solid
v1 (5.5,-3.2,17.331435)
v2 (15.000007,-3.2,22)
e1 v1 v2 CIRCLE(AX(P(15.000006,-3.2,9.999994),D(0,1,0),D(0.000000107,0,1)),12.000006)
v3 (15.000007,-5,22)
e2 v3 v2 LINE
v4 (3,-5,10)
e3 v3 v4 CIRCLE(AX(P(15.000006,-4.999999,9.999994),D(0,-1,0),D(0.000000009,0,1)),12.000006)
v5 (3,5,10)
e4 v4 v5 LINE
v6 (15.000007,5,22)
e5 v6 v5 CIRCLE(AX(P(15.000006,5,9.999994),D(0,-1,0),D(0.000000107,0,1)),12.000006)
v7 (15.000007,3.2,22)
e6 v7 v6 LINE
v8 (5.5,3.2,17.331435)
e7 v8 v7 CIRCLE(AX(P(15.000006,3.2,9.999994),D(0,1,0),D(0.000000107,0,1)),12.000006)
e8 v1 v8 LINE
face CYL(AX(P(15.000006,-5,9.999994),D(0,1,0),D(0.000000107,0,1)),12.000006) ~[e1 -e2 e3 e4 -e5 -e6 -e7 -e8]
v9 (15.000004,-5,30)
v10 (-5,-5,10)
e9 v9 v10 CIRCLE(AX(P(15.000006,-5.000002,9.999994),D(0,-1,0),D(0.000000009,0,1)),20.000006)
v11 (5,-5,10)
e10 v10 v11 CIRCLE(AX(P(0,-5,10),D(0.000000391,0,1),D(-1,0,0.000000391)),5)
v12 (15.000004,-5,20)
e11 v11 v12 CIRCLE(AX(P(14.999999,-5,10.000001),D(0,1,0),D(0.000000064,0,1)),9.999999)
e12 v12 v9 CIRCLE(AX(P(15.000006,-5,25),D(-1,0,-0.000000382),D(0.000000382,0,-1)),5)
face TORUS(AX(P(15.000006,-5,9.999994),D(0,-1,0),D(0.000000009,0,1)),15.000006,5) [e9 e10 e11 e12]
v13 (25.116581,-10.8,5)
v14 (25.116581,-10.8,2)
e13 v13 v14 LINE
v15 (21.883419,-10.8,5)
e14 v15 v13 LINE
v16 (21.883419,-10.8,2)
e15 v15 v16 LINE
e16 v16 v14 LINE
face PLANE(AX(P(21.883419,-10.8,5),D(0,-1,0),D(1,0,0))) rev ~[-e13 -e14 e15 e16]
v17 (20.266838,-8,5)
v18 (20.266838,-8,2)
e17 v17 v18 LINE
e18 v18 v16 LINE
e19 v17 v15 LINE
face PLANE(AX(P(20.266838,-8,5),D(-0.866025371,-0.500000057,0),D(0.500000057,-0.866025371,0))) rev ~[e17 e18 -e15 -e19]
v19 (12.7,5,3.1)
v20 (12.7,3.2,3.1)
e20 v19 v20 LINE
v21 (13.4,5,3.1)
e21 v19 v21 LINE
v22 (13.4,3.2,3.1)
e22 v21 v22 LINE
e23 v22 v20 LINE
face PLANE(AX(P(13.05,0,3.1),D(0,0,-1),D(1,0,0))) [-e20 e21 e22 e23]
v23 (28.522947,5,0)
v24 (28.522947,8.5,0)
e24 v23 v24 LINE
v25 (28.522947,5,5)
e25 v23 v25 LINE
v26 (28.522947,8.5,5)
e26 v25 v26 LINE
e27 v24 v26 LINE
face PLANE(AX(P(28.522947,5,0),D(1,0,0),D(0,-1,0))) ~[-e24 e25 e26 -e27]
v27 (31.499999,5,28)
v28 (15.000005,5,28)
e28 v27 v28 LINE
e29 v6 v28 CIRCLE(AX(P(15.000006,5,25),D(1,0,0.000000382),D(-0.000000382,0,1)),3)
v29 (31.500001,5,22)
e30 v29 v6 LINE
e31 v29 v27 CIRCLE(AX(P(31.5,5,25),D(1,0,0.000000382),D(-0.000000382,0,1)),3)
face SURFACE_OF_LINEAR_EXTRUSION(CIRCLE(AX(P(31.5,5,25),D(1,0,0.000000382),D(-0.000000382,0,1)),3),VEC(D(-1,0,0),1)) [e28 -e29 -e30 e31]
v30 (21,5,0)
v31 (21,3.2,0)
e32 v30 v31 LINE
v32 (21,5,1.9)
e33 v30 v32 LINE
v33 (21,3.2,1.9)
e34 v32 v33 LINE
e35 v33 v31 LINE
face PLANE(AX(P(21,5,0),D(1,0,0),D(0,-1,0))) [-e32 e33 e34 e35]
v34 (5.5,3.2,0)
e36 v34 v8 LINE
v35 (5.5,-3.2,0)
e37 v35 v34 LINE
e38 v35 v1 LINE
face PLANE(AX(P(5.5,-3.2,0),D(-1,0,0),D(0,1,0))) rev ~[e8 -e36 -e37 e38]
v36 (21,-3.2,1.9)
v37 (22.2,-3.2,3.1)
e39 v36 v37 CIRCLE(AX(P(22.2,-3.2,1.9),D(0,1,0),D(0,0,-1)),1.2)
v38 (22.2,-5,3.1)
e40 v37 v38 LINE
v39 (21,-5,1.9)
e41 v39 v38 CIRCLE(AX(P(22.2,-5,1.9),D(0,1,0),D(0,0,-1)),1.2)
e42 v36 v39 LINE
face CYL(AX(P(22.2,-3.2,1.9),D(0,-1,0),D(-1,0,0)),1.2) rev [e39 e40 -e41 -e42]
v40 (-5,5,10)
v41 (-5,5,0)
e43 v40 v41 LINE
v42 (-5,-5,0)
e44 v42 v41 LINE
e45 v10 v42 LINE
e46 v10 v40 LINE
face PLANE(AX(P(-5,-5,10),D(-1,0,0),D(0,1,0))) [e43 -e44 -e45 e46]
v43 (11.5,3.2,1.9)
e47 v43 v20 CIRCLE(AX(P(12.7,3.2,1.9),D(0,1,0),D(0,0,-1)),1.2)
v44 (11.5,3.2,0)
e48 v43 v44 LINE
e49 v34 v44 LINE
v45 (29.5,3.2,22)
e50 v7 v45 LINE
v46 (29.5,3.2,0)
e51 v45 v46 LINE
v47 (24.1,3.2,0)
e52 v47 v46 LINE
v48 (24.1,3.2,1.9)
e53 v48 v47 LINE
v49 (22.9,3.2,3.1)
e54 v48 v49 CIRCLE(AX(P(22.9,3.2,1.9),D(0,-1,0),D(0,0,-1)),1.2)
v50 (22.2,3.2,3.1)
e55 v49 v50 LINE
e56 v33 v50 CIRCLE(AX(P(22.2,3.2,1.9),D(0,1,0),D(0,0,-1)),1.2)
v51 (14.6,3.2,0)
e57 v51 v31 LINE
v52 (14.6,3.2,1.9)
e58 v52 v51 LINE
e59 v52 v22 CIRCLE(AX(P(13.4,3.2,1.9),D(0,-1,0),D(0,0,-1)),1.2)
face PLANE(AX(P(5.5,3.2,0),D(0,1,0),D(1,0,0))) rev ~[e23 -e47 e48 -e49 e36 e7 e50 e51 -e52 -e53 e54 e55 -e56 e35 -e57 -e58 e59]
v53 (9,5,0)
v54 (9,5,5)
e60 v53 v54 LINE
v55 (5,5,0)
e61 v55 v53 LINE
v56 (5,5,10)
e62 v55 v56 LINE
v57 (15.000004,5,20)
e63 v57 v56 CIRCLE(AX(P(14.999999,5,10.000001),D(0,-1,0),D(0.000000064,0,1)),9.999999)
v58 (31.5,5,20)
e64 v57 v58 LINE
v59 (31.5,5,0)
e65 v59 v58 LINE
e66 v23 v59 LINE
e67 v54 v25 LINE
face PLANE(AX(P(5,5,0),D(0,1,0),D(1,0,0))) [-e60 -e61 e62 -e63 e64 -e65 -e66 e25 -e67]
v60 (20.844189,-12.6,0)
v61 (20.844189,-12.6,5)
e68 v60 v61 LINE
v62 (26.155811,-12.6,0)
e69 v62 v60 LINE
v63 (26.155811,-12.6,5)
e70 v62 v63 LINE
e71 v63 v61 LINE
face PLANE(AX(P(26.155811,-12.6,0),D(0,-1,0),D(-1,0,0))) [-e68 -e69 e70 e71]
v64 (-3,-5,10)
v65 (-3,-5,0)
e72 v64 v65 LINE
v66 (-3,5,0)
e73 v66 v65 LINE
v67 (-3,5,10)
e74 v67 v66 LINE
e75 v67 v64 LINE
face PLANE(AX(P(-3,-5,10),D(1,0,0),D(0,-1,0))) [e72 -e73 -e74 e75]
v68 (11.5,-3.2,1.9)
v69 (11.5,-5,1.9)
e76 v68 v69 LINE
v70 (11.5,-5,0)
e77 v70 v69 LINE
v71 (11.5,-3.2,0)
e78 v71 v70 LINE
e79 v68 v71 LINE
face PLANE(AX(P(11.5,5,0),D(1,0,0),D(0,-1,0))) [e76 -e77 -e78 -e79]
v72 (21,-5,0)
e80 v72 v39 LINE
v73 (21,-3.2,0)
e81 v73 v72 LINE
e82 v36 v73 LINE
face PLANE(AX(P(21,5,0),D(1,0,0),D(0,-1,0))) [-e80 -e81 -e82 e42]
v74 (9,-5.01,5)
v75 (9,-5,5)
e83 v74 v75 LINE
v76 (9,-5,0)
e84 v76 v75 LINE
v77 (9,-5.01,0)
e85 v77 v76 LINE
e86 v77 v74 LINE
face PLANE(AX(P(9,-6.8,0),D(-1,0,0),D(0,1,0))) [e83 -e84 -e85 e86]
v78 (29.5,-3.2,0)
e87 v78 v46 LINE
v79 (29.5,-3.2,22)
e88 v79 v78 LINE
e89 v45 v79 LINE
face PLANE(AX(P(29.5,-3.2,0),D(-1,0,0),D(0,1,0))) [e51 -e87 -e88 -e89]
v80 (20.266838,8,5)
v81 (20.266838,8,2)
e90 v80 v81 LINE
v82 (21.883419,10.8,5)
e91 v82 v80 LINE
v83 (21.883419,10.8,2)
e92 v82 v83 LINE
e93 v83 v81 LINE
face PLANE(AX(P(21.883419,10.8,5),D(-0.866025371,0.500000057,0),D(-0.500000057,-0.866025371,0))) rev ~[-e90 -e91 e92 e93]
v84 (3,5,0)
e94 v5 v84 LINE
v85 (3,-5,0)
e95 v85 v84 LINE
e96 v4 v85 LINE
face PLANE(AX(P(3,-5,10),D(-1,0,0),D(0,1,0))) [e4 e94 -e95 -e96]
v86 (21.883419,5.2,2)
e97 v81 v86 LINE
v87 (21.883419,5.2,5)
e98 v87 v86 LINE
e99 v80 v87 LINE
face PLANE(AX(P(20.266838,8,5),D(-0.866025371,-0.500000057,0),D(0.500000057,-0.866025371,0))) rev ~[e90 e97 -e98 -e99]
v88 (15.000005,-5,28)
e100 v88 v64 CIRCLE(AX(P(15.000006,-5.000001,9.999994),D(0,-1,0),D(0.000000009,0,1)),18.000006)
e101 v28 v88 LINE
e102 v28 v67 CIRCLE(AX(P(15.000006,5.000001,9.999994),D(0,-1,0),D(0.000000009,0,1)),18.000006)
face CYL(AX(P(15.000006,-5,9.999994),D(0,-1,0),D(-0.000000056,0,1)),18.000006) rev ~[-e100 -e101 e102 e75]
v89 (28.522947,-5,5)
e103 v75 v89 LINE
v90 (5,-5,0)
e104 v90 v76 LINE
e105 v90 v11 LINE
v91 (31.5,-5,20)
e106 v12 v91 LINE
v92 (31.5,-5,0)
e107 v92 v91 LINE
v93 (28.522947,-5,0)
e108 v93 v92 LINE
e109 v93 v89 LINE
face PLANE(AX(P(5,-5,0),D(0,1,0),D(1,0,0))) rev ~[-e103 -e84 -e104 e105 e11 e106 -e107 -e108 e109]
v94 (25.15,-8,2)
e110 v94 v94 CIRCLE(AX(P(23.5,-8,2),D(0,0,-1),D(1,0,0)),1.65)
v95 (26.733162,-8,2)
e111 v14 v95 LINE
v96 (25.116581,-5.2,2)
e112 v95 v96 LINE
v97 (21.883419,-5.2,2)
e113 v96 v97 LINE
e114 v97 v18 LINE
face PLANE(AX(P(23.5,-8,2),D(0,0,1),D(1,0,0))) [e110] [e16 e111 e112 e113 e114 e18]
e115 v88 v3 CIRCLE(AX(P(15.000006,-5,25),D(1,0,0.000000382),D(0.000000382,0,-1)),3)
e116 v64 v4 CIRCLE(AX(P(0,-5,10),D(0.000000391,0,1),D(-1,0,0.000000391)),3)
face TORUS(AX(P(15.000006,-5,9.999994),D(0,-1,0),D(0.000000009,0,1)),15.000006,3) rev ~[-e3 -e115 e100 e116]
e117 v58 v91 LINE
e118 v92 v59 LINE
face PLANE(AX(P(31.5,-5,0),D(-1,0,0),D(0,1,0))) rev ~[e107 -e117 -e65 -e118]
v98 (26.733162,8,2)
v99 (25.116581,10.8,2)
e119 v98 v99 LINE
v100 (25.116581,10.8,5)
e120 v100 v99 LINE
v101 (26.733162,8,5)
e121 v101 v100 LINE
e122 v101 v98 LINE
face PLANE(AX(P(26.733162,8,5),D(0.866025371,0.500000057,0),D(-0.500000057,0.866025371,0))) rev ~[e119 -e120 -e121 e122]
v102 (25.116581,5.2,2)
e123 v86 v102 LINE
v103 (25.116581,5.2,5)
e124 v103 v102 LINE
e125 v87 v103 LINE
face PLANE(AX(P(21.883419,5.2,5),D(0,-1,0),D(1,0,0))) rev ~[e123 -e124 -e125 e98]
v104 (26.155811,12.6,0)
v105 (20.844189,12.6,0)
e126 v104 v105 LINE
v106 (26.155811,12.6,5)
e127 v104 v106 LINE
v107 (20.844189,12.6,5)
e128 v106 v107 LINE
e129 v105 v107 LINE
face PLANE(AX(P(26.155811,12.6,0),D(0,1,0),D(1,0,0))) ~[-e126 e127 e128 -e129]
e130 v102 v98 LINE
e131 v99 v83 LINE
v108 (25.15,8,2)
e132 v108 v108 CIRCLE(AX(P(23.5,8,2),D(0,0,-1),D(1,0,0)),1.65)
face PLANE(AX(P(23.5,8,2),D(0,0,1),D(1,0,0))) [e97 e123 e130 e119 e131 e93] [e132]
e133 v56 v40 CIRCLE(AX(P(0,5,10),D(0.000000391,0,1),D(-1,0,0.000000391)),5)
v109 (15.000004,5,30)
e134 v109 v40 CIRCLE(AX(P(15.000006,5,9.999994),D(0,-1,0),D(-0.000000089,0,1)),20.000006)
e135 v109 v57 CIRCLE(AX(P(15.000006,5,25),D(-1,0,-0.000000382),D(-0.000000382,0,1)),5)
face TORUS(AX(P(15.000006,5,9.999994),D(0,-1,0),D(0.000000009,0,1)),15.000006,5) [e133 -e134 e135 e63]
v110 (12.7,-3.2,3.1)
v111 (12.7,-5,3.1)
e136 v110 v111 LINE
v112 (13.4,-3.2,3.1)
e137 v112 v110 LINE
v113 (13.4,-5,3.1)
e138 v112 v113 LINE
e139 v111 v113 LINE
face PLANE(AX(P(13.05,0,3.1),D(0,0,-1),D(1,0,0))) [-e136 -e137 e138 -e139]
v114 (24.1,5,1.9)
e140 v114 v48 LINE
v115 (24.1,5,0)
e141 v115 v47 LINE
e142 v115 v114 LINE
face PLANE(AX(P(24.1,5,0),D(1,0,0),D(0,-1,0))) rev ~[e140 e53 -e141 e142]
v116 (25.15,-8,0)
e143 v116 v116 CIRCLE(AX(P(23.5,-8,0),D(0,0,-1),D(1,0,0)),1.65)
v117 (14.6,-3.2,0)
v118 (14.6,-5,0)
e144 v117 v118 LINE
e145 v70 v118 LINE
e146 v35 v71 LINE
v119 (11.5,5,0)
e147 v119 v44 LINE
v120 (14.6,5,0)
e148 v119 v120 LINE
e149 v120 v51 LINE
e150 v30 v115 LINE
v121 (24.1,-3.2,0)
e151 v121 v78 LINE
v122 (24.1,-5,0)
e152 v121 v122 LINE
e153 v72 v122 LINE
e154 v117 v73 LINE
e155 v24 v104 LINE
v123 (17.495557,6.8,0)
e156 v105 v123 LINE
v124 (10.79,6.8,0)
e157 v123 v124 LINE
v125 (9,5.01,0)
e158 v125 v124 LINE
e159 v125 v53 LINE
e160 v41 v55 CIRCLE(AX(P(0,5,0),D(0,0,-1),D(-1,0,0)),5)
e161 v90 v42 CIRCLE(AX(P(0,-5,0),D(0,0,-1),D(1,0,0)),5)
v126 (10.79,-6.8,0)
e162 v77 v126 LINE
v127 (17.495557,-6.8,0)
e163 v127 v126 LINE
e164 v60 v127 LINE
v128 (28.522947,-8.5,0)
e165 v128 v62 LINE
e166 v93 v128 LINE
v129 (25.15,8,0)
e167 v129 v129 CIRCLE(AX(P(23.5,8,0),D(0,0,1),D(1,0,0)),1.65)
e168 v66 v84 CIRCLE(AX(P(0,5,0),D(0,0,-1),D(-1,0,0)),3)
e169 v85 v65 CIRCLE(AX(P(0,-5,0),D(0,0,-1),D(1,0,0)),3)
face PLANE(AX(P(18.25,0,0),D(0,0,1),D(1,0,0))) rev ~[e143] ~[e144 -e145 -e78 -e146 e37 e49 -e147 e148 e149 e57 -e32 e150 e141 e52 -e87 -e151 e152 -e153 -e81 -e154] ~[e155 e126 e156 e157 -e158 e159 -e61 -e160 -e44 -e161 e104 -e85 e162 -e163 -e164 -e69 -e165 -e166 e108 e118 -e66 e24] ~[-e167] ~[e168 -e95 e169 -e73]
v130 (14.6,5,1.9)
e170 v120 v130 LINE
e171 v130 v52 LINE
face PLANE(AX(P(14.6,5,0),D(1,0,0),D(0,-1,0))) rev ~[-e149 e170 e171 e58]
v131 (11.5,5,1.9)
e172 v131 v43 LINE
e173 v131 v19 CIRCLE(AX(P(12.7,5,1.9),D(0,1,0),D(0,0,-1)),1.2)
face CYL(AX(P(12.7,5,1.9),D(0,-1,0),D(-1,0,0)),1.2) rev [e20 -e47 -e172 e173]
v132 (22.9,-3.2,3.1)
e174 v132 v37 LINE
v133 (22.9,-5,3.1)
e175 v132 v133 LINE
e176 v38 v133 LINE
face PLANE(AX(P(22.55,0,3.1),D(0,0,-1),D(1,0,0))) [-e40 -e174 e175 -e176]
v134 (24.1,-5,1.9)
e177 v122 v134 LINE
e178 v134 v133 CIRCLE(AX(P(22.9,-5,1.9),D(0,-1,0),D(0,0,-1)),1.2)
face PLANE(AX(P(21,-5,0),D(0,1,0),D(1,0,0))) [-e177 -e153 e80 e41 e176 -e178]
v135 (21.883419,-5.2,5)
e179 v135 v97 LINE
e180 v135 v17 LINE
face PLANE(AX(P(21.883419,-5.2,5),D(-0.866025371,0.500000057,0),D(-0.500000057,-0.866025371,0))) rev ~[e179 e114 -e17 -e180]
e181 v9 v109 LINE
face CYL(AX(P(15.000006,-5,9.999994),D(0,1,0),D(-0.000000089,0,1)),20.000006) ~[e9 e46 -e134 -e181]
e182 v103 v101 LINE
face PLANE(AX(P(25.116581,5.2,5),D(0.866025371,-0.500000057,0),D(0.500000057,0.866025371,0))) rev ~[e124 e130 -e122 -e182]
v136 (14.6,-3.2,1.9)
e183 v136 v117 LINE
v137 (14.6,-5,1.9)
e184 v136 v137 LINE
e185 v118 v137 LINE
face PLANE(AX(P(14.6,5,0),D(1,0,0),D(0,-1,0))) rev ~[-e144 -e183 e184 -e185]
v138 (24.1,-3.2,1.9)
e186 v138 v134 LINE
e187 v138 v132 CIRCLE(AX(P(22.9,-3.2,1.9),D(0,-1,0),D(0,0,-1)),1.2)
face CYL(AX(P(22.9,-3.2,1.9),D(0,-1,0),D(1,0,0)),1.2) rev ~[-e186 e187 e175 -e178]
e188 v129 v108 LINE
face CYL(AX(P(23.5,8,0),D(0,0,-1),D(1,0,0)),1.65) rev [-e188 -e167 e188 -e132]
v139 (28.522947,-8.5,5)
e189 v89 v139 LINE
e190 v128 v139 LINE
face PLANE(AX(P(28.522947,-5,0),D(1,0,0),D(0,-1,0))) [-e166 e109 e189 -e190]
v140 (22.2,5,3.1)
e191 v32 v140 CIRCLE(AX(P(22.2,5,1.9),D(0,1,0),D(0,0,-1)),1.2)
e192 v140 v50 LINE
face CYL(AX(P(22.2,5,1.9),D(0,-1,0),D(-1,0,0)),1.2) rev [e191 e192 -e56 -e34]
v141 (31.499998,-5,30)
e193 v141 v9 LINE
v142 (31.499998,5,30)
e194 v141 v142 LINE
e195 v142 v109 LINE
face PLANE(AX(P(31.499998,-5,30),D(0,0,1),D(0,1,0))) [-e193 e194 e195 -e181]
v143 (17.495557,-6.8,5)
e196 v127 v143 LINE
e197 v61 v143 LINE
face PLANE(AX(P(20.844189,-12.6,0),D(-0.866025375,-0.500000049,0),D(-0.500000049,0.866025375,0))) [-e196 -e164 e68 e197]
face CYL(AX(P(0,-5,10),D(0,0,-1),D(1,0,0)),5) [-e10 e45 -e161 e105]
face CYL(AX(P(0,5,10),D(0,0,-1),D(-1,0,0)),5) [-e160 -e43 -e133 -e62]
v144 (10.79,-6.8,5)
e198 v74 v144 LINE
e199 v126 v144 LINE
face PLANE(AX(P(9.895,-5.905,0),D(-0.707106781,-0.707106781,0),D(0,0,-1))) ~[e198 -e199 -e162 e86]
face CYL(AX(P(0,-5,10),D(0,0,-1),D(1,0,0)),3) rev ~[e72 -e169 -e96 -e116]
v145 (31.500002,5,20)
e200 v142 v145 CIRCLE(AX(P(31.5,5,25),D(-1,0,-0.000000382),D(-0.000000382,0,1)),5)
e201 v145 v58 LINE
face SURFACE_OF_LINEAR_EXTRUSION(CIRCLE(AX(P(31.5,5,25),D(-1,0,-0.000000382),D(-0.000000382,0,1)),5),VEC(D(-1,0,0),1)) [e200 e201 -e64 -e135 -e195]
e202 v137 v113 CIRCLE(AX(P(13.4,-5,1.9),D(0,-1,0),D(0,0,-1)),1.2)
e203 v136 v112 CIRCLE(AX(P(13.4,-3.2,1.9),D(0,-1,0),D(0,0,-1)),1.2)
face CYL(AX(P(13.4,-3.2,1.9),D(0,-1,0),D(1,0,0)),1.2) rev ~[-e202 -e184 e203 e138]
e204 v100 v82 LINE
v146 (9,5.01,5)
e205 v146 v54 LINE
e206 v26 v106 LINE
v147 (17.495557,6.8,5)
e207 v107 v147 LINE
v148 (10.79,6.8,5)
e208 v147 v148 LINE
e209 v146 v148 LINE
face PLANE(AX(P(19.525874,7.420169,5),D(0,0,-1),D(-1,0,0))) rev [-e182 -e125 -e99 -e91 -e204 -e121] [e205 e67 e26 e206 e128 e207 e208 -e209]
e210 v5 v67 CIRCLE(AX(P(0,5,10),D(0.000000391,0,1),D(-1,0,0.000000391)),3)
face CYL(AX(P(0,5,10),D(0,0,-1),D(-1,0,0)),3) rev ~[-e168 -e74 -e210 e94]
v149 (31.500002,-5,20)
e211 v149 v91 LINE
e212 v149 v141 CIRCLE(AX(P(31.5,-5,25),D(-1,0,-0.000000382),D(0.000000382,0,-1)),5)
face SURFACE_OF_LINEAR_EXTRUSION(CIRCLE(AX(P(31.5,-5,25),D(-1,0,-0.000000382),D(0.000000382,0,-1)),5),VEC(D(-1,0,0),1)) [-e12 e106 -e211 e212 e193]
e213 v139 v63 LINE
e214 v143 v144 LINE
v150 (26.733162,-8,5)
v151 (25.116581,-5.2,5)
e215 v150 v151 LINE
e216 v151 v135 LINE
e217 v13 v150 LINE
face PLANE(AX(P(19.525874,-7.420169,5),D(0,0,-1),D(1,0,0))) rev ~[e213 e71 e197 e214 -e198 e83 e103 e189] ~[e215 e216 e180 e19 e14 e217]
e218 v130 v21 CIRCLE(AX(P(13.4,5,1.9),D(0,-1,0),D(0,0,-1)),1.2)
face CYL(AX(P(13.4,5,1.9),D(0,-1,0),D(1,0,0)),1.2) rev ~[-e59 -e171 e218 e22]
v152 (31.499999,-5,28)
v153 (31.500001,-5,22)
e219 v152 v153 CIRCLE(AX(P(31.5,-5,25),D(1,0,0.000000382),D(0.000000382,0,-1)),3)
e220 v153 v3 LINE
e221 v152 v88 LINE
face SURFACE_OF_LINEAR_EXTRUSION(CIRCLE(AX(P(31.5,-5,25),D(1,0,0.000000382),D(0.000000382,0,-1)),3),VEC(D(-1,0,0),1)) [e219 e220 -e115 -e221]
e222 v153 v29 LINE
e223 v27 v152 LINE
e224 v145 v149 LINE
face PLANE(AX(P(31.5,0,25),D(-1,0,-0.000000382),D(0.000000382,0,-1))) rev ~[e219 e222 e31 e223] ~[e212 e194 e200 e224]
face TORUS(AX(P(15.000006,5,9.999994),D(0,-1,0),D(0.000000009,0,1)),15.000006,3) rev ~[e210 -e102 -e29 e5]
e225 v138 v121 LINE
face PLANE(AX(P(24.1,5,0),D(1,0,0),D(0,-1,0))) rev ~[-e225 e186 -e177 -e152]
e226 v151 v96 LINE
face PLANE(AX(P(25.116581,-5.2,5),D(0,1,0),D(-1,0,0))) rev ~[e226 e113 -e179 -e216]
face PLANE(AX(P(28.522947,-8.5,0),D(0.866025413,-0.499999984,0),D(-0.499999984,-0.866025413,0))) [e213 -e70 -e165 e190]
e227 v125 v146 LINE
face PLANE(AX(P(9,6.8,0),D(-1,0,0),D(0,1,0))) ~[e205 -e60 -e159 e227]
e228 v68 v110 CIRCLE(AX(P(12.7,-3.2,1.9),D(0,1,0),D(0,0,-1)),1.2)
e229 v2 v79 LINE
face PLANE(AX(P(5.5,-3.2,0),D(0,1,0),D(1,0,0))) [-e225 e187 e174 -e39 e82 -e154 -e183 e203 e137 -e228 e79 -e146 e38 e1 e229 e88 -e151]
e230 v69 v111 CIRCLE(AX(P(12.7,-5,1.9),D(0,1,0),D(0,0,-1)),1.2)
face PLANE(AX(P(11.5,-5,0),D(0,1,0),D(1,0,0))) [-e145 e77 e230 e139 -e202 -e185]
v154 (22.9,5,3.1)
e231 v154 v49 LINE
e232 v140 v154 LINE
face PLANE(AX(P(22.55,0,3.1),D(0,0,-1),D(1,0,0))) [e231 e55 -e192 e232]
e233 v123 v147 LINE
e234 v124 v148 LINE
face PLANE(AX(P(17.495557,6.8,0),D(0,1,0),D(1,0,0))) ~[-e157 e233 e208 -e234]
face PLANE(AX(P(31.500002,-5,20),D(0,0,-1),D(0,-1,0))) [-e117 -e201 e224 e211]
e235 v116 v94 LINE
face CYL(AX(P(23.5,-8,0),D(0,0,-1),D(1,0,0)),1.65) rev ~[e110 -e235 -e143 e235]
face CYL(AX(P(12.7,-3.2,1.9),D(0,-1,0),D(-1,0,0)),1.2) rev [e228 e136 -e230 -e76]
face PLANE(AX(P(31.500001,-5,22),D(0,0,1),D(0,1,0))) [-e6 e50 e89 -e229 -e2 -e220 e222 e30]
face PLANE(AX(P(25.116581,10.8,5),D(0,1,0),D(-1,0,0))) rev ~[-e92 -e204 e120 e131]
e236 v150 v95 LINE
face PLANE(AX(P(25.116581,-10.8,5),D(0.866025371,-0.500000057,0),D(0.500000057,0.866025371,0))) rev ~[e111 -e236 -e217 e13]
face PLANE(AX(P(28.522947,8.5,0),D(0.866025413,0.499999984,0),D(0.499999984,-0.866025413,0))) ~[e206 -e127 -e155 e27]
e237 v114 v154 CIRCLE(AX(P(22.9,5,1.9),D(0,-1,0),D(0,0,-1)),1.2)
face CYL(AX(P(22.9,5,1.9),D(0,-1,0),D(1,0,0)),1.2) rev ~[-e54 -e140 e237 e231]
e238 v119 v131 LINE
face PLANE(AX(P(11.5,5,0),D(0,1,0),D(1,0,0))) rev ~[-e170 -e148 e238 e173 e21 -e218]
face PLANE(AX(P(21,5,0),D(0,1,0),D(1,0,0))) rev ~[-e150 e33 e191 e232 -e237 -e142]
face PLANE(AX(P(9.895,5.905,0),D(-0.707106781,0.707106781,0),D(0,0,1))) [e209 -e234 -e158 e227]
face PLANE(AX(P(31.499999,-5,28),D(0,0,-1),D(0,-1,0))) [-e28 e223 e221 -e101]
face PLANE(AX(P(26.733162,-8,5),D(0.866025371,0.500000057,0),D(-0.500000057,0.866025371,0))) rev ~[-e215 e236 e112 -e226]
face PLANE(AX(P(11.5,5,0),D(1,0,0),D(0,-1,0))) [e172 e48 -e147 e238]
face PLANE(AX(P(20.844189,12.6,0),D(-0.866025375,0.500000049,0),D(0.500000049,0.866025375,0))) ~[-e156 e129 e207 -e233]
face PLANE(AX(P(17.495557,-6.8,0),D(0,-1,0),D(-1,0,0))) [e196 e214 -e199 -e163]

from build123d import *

# Parameters (mm, degrees)
SKETCH_W          = 26.5
SKETCH_H          = 10
SKETCH_W_2        = 24
SKETCH_H_2        = 6.4
PAD_DEPTH         = 20
POCKET_DEPTH      = 5.001
POCKET_DEPTH_BACK = 5.001
SKETCH004_R       = 1.65
PAD001_DEPTH      = 5
SKETCH005_W       = 3.1
SKETCH005_H       = 10
POCKET001_DEPTH   = 3.1
FILLET_R          = 1.2
SKETCH006_W       = 24
SKETCH006_H       = 6.4
POCKET002_DEPTH   = 22
POCKET003_DEPTH   = 3
CHAMFER_SIZE      = 1.79


with BuildPart() as part:
    # Sketch → Pad (new body)
    with BuildSketch(Plane.XY):
        with Locations((18.25, 0)):
            Rectangle(SKETCH_W, SKETCH_H)
        with Locations((17.5, 0)):
            Rectangle(SKETCH_W_2, SKETCH_H_2, mode=Mode.SUBTRACT)
    extrude(amount=PAD_DEPTH)

    # Sketch003 → Pocket (cut, two sides)
    with BuildSketch(Plane.XZ) as pocket_sk:
        with BuildLine():
            Line((5, 0), (5, 10))
            ThreePointArc((15, 20), (7.928932, 17.071068), (5, 10))
            Line((15, 20), (35.5, 20))
            Line((35.5, 20), (35.5, 25))
            Line((35.5, 25), (0, 25))
            Line((0, 25), (0, 0))
            Line((0, 0), (5, 0))
        make_face()
    extrude(amount=-POCKET_DEPTH, mode=Mode.SUBTRACT)
    extrude(pocket_sk.sketch, amount=POCKET_DEPTH_BACK, mode=Mode.SUBTRACT)

    # AdditivePipe: sweep along a path in Sketch002
    with BuildLine(Plane.XZ) as additivepipe_path:
        Line((31.5, 25), (15.000006, 25))
        ThreePointArc((15.000006, 25), (4.393402, 20.606602), (0, 10))
        Line((0, 10), (0, 0))
    # Sketch001 (on Face9 of Pad) → AdditivePipe (sweep)
    with BuildSketch(Plane(origin=(0, 0, 0), x_dir=(1, 0, 0), z_dir=(0, 0, -1))):
        with BuildLine():
            ThreePointArc((5, 5), (0, 10), (-5, 5))
            Line((-5, 5), (-5, -5))
            ThreePointArc((-5, -5), (0, -10), (5, -5))
            Line((5, 5), (5, -5))
        make_face()
        with BuildLine():
            ThreePointArc((3, 5), (0, 8), (-3, 5))
            Line((-3, 5), (-3, -5))
            ThreePointArc((-3, -5), (0, -8), (3, -5))
            Line((3, 5), (3, -5))
        make_face(mode=Mode.SUBTRACT)
    sweep(path=additivepipe_path.line)

    # Sketch004 (on Face2 of AdditivePipe) → Pad001 (join)
    with BuildSketch(Plane(origin=(0, 0, 0), x_dir=(1, 0, 0), z_dir=(0, 0, -1))):
        Polygon((28.522947, 8.5), (26.155811, 12.6), (20.844189, 12.6), (17.495557, 6.8), (9, 6.8), (9, 5), (28.522947, 5), align=None)
        with Locations((23.5, 8)):
            Circle(SKETCH004_R, mode=Mode.SUBTRACT)
    pad001 = extrude(amount=-PAD001_DEPTH)

    # Mirrored: Pad001 across XZ
    add(pad001.mirror(Plane.XZ))

    # Sketch005 (on Face2 of Mirrored) → Pocket001 (cut)
    with BuildSketch(Plane(origin=(0, 0, 0), x_dir=(1, 0, 0), z_dir=(0, 0, -1))):
        with Locations((13.05, 0)):
            Rectangle(SKETCH005_W, SKETCH005_H)
        with Locations((22.55, 0)):
            Rectangle(SKETCH005_W, SKETCH005_H)
    extrude(amount=-POCKET001_DEPTH, mode=Mode.SUBTRACT)

    # Fillet
    fillet_edges = [part.edges().sort_by_distance(p)[0] for p in [
        (11.5, 4.1, 3.1),
        (11.5, -4.1, 3.1),
        (21, -4.1, 3.1),
        (21, 4.1, 3.1),
        (14.6, 4.1, 3.1),
        (14.6, -4.1, 3.1),
        (24.1, -4.1, 3.1),
        (24.1, 4.1, 3.1),
    ]]
    fillet(fillet_edges, radius=FILLET_R)

    # Sketch006 (on Face51 of Fillet) → Pocket002 (cut)
    with BuildSketch(Plane(origin=(0, 0, 0), x_dir=(1, 0, 0), z_dir=(0, 0, -1))):
        with Locations((17.5, 0)):
            Rectangle(SKETCH006_W, SKETCH006_H)
    extrude(amount=-POCKET002_DEPTH, mode=Mode.SUBTRACT)

    # Sketch007 (on Face66 of Pocket002) → Pocket003 (cut)
    with BuildSketch(Plane.XY.offset(5)):
        Polygon((26.733162, -8), (25.116581, -5.2), (21.883419, -5.2), (20.266838, -8), (21.883419, -10.8), (25.116581, -10.8), align=None)
        Polygon((25.116581, 5.2), (26.733162, 8), (25.116581, 10.8), (21.883419, 10.8), (20.266838, 8), (21.883419, 5.2), align=None)
    extrude(amount=-POCKET003_DEPTH, mode=Mode.SUBTRACT)

    # Chamfer
    chamfer_edges = [part.edges().sort_by_distance(p)[0] for p in [
        (9, -6.8, 2.5),
        (9, 6.8, 2.5),
    ]]
    chamfer(chamfer_edges, length=CHAMFER_SIZE)


solid = part.part
